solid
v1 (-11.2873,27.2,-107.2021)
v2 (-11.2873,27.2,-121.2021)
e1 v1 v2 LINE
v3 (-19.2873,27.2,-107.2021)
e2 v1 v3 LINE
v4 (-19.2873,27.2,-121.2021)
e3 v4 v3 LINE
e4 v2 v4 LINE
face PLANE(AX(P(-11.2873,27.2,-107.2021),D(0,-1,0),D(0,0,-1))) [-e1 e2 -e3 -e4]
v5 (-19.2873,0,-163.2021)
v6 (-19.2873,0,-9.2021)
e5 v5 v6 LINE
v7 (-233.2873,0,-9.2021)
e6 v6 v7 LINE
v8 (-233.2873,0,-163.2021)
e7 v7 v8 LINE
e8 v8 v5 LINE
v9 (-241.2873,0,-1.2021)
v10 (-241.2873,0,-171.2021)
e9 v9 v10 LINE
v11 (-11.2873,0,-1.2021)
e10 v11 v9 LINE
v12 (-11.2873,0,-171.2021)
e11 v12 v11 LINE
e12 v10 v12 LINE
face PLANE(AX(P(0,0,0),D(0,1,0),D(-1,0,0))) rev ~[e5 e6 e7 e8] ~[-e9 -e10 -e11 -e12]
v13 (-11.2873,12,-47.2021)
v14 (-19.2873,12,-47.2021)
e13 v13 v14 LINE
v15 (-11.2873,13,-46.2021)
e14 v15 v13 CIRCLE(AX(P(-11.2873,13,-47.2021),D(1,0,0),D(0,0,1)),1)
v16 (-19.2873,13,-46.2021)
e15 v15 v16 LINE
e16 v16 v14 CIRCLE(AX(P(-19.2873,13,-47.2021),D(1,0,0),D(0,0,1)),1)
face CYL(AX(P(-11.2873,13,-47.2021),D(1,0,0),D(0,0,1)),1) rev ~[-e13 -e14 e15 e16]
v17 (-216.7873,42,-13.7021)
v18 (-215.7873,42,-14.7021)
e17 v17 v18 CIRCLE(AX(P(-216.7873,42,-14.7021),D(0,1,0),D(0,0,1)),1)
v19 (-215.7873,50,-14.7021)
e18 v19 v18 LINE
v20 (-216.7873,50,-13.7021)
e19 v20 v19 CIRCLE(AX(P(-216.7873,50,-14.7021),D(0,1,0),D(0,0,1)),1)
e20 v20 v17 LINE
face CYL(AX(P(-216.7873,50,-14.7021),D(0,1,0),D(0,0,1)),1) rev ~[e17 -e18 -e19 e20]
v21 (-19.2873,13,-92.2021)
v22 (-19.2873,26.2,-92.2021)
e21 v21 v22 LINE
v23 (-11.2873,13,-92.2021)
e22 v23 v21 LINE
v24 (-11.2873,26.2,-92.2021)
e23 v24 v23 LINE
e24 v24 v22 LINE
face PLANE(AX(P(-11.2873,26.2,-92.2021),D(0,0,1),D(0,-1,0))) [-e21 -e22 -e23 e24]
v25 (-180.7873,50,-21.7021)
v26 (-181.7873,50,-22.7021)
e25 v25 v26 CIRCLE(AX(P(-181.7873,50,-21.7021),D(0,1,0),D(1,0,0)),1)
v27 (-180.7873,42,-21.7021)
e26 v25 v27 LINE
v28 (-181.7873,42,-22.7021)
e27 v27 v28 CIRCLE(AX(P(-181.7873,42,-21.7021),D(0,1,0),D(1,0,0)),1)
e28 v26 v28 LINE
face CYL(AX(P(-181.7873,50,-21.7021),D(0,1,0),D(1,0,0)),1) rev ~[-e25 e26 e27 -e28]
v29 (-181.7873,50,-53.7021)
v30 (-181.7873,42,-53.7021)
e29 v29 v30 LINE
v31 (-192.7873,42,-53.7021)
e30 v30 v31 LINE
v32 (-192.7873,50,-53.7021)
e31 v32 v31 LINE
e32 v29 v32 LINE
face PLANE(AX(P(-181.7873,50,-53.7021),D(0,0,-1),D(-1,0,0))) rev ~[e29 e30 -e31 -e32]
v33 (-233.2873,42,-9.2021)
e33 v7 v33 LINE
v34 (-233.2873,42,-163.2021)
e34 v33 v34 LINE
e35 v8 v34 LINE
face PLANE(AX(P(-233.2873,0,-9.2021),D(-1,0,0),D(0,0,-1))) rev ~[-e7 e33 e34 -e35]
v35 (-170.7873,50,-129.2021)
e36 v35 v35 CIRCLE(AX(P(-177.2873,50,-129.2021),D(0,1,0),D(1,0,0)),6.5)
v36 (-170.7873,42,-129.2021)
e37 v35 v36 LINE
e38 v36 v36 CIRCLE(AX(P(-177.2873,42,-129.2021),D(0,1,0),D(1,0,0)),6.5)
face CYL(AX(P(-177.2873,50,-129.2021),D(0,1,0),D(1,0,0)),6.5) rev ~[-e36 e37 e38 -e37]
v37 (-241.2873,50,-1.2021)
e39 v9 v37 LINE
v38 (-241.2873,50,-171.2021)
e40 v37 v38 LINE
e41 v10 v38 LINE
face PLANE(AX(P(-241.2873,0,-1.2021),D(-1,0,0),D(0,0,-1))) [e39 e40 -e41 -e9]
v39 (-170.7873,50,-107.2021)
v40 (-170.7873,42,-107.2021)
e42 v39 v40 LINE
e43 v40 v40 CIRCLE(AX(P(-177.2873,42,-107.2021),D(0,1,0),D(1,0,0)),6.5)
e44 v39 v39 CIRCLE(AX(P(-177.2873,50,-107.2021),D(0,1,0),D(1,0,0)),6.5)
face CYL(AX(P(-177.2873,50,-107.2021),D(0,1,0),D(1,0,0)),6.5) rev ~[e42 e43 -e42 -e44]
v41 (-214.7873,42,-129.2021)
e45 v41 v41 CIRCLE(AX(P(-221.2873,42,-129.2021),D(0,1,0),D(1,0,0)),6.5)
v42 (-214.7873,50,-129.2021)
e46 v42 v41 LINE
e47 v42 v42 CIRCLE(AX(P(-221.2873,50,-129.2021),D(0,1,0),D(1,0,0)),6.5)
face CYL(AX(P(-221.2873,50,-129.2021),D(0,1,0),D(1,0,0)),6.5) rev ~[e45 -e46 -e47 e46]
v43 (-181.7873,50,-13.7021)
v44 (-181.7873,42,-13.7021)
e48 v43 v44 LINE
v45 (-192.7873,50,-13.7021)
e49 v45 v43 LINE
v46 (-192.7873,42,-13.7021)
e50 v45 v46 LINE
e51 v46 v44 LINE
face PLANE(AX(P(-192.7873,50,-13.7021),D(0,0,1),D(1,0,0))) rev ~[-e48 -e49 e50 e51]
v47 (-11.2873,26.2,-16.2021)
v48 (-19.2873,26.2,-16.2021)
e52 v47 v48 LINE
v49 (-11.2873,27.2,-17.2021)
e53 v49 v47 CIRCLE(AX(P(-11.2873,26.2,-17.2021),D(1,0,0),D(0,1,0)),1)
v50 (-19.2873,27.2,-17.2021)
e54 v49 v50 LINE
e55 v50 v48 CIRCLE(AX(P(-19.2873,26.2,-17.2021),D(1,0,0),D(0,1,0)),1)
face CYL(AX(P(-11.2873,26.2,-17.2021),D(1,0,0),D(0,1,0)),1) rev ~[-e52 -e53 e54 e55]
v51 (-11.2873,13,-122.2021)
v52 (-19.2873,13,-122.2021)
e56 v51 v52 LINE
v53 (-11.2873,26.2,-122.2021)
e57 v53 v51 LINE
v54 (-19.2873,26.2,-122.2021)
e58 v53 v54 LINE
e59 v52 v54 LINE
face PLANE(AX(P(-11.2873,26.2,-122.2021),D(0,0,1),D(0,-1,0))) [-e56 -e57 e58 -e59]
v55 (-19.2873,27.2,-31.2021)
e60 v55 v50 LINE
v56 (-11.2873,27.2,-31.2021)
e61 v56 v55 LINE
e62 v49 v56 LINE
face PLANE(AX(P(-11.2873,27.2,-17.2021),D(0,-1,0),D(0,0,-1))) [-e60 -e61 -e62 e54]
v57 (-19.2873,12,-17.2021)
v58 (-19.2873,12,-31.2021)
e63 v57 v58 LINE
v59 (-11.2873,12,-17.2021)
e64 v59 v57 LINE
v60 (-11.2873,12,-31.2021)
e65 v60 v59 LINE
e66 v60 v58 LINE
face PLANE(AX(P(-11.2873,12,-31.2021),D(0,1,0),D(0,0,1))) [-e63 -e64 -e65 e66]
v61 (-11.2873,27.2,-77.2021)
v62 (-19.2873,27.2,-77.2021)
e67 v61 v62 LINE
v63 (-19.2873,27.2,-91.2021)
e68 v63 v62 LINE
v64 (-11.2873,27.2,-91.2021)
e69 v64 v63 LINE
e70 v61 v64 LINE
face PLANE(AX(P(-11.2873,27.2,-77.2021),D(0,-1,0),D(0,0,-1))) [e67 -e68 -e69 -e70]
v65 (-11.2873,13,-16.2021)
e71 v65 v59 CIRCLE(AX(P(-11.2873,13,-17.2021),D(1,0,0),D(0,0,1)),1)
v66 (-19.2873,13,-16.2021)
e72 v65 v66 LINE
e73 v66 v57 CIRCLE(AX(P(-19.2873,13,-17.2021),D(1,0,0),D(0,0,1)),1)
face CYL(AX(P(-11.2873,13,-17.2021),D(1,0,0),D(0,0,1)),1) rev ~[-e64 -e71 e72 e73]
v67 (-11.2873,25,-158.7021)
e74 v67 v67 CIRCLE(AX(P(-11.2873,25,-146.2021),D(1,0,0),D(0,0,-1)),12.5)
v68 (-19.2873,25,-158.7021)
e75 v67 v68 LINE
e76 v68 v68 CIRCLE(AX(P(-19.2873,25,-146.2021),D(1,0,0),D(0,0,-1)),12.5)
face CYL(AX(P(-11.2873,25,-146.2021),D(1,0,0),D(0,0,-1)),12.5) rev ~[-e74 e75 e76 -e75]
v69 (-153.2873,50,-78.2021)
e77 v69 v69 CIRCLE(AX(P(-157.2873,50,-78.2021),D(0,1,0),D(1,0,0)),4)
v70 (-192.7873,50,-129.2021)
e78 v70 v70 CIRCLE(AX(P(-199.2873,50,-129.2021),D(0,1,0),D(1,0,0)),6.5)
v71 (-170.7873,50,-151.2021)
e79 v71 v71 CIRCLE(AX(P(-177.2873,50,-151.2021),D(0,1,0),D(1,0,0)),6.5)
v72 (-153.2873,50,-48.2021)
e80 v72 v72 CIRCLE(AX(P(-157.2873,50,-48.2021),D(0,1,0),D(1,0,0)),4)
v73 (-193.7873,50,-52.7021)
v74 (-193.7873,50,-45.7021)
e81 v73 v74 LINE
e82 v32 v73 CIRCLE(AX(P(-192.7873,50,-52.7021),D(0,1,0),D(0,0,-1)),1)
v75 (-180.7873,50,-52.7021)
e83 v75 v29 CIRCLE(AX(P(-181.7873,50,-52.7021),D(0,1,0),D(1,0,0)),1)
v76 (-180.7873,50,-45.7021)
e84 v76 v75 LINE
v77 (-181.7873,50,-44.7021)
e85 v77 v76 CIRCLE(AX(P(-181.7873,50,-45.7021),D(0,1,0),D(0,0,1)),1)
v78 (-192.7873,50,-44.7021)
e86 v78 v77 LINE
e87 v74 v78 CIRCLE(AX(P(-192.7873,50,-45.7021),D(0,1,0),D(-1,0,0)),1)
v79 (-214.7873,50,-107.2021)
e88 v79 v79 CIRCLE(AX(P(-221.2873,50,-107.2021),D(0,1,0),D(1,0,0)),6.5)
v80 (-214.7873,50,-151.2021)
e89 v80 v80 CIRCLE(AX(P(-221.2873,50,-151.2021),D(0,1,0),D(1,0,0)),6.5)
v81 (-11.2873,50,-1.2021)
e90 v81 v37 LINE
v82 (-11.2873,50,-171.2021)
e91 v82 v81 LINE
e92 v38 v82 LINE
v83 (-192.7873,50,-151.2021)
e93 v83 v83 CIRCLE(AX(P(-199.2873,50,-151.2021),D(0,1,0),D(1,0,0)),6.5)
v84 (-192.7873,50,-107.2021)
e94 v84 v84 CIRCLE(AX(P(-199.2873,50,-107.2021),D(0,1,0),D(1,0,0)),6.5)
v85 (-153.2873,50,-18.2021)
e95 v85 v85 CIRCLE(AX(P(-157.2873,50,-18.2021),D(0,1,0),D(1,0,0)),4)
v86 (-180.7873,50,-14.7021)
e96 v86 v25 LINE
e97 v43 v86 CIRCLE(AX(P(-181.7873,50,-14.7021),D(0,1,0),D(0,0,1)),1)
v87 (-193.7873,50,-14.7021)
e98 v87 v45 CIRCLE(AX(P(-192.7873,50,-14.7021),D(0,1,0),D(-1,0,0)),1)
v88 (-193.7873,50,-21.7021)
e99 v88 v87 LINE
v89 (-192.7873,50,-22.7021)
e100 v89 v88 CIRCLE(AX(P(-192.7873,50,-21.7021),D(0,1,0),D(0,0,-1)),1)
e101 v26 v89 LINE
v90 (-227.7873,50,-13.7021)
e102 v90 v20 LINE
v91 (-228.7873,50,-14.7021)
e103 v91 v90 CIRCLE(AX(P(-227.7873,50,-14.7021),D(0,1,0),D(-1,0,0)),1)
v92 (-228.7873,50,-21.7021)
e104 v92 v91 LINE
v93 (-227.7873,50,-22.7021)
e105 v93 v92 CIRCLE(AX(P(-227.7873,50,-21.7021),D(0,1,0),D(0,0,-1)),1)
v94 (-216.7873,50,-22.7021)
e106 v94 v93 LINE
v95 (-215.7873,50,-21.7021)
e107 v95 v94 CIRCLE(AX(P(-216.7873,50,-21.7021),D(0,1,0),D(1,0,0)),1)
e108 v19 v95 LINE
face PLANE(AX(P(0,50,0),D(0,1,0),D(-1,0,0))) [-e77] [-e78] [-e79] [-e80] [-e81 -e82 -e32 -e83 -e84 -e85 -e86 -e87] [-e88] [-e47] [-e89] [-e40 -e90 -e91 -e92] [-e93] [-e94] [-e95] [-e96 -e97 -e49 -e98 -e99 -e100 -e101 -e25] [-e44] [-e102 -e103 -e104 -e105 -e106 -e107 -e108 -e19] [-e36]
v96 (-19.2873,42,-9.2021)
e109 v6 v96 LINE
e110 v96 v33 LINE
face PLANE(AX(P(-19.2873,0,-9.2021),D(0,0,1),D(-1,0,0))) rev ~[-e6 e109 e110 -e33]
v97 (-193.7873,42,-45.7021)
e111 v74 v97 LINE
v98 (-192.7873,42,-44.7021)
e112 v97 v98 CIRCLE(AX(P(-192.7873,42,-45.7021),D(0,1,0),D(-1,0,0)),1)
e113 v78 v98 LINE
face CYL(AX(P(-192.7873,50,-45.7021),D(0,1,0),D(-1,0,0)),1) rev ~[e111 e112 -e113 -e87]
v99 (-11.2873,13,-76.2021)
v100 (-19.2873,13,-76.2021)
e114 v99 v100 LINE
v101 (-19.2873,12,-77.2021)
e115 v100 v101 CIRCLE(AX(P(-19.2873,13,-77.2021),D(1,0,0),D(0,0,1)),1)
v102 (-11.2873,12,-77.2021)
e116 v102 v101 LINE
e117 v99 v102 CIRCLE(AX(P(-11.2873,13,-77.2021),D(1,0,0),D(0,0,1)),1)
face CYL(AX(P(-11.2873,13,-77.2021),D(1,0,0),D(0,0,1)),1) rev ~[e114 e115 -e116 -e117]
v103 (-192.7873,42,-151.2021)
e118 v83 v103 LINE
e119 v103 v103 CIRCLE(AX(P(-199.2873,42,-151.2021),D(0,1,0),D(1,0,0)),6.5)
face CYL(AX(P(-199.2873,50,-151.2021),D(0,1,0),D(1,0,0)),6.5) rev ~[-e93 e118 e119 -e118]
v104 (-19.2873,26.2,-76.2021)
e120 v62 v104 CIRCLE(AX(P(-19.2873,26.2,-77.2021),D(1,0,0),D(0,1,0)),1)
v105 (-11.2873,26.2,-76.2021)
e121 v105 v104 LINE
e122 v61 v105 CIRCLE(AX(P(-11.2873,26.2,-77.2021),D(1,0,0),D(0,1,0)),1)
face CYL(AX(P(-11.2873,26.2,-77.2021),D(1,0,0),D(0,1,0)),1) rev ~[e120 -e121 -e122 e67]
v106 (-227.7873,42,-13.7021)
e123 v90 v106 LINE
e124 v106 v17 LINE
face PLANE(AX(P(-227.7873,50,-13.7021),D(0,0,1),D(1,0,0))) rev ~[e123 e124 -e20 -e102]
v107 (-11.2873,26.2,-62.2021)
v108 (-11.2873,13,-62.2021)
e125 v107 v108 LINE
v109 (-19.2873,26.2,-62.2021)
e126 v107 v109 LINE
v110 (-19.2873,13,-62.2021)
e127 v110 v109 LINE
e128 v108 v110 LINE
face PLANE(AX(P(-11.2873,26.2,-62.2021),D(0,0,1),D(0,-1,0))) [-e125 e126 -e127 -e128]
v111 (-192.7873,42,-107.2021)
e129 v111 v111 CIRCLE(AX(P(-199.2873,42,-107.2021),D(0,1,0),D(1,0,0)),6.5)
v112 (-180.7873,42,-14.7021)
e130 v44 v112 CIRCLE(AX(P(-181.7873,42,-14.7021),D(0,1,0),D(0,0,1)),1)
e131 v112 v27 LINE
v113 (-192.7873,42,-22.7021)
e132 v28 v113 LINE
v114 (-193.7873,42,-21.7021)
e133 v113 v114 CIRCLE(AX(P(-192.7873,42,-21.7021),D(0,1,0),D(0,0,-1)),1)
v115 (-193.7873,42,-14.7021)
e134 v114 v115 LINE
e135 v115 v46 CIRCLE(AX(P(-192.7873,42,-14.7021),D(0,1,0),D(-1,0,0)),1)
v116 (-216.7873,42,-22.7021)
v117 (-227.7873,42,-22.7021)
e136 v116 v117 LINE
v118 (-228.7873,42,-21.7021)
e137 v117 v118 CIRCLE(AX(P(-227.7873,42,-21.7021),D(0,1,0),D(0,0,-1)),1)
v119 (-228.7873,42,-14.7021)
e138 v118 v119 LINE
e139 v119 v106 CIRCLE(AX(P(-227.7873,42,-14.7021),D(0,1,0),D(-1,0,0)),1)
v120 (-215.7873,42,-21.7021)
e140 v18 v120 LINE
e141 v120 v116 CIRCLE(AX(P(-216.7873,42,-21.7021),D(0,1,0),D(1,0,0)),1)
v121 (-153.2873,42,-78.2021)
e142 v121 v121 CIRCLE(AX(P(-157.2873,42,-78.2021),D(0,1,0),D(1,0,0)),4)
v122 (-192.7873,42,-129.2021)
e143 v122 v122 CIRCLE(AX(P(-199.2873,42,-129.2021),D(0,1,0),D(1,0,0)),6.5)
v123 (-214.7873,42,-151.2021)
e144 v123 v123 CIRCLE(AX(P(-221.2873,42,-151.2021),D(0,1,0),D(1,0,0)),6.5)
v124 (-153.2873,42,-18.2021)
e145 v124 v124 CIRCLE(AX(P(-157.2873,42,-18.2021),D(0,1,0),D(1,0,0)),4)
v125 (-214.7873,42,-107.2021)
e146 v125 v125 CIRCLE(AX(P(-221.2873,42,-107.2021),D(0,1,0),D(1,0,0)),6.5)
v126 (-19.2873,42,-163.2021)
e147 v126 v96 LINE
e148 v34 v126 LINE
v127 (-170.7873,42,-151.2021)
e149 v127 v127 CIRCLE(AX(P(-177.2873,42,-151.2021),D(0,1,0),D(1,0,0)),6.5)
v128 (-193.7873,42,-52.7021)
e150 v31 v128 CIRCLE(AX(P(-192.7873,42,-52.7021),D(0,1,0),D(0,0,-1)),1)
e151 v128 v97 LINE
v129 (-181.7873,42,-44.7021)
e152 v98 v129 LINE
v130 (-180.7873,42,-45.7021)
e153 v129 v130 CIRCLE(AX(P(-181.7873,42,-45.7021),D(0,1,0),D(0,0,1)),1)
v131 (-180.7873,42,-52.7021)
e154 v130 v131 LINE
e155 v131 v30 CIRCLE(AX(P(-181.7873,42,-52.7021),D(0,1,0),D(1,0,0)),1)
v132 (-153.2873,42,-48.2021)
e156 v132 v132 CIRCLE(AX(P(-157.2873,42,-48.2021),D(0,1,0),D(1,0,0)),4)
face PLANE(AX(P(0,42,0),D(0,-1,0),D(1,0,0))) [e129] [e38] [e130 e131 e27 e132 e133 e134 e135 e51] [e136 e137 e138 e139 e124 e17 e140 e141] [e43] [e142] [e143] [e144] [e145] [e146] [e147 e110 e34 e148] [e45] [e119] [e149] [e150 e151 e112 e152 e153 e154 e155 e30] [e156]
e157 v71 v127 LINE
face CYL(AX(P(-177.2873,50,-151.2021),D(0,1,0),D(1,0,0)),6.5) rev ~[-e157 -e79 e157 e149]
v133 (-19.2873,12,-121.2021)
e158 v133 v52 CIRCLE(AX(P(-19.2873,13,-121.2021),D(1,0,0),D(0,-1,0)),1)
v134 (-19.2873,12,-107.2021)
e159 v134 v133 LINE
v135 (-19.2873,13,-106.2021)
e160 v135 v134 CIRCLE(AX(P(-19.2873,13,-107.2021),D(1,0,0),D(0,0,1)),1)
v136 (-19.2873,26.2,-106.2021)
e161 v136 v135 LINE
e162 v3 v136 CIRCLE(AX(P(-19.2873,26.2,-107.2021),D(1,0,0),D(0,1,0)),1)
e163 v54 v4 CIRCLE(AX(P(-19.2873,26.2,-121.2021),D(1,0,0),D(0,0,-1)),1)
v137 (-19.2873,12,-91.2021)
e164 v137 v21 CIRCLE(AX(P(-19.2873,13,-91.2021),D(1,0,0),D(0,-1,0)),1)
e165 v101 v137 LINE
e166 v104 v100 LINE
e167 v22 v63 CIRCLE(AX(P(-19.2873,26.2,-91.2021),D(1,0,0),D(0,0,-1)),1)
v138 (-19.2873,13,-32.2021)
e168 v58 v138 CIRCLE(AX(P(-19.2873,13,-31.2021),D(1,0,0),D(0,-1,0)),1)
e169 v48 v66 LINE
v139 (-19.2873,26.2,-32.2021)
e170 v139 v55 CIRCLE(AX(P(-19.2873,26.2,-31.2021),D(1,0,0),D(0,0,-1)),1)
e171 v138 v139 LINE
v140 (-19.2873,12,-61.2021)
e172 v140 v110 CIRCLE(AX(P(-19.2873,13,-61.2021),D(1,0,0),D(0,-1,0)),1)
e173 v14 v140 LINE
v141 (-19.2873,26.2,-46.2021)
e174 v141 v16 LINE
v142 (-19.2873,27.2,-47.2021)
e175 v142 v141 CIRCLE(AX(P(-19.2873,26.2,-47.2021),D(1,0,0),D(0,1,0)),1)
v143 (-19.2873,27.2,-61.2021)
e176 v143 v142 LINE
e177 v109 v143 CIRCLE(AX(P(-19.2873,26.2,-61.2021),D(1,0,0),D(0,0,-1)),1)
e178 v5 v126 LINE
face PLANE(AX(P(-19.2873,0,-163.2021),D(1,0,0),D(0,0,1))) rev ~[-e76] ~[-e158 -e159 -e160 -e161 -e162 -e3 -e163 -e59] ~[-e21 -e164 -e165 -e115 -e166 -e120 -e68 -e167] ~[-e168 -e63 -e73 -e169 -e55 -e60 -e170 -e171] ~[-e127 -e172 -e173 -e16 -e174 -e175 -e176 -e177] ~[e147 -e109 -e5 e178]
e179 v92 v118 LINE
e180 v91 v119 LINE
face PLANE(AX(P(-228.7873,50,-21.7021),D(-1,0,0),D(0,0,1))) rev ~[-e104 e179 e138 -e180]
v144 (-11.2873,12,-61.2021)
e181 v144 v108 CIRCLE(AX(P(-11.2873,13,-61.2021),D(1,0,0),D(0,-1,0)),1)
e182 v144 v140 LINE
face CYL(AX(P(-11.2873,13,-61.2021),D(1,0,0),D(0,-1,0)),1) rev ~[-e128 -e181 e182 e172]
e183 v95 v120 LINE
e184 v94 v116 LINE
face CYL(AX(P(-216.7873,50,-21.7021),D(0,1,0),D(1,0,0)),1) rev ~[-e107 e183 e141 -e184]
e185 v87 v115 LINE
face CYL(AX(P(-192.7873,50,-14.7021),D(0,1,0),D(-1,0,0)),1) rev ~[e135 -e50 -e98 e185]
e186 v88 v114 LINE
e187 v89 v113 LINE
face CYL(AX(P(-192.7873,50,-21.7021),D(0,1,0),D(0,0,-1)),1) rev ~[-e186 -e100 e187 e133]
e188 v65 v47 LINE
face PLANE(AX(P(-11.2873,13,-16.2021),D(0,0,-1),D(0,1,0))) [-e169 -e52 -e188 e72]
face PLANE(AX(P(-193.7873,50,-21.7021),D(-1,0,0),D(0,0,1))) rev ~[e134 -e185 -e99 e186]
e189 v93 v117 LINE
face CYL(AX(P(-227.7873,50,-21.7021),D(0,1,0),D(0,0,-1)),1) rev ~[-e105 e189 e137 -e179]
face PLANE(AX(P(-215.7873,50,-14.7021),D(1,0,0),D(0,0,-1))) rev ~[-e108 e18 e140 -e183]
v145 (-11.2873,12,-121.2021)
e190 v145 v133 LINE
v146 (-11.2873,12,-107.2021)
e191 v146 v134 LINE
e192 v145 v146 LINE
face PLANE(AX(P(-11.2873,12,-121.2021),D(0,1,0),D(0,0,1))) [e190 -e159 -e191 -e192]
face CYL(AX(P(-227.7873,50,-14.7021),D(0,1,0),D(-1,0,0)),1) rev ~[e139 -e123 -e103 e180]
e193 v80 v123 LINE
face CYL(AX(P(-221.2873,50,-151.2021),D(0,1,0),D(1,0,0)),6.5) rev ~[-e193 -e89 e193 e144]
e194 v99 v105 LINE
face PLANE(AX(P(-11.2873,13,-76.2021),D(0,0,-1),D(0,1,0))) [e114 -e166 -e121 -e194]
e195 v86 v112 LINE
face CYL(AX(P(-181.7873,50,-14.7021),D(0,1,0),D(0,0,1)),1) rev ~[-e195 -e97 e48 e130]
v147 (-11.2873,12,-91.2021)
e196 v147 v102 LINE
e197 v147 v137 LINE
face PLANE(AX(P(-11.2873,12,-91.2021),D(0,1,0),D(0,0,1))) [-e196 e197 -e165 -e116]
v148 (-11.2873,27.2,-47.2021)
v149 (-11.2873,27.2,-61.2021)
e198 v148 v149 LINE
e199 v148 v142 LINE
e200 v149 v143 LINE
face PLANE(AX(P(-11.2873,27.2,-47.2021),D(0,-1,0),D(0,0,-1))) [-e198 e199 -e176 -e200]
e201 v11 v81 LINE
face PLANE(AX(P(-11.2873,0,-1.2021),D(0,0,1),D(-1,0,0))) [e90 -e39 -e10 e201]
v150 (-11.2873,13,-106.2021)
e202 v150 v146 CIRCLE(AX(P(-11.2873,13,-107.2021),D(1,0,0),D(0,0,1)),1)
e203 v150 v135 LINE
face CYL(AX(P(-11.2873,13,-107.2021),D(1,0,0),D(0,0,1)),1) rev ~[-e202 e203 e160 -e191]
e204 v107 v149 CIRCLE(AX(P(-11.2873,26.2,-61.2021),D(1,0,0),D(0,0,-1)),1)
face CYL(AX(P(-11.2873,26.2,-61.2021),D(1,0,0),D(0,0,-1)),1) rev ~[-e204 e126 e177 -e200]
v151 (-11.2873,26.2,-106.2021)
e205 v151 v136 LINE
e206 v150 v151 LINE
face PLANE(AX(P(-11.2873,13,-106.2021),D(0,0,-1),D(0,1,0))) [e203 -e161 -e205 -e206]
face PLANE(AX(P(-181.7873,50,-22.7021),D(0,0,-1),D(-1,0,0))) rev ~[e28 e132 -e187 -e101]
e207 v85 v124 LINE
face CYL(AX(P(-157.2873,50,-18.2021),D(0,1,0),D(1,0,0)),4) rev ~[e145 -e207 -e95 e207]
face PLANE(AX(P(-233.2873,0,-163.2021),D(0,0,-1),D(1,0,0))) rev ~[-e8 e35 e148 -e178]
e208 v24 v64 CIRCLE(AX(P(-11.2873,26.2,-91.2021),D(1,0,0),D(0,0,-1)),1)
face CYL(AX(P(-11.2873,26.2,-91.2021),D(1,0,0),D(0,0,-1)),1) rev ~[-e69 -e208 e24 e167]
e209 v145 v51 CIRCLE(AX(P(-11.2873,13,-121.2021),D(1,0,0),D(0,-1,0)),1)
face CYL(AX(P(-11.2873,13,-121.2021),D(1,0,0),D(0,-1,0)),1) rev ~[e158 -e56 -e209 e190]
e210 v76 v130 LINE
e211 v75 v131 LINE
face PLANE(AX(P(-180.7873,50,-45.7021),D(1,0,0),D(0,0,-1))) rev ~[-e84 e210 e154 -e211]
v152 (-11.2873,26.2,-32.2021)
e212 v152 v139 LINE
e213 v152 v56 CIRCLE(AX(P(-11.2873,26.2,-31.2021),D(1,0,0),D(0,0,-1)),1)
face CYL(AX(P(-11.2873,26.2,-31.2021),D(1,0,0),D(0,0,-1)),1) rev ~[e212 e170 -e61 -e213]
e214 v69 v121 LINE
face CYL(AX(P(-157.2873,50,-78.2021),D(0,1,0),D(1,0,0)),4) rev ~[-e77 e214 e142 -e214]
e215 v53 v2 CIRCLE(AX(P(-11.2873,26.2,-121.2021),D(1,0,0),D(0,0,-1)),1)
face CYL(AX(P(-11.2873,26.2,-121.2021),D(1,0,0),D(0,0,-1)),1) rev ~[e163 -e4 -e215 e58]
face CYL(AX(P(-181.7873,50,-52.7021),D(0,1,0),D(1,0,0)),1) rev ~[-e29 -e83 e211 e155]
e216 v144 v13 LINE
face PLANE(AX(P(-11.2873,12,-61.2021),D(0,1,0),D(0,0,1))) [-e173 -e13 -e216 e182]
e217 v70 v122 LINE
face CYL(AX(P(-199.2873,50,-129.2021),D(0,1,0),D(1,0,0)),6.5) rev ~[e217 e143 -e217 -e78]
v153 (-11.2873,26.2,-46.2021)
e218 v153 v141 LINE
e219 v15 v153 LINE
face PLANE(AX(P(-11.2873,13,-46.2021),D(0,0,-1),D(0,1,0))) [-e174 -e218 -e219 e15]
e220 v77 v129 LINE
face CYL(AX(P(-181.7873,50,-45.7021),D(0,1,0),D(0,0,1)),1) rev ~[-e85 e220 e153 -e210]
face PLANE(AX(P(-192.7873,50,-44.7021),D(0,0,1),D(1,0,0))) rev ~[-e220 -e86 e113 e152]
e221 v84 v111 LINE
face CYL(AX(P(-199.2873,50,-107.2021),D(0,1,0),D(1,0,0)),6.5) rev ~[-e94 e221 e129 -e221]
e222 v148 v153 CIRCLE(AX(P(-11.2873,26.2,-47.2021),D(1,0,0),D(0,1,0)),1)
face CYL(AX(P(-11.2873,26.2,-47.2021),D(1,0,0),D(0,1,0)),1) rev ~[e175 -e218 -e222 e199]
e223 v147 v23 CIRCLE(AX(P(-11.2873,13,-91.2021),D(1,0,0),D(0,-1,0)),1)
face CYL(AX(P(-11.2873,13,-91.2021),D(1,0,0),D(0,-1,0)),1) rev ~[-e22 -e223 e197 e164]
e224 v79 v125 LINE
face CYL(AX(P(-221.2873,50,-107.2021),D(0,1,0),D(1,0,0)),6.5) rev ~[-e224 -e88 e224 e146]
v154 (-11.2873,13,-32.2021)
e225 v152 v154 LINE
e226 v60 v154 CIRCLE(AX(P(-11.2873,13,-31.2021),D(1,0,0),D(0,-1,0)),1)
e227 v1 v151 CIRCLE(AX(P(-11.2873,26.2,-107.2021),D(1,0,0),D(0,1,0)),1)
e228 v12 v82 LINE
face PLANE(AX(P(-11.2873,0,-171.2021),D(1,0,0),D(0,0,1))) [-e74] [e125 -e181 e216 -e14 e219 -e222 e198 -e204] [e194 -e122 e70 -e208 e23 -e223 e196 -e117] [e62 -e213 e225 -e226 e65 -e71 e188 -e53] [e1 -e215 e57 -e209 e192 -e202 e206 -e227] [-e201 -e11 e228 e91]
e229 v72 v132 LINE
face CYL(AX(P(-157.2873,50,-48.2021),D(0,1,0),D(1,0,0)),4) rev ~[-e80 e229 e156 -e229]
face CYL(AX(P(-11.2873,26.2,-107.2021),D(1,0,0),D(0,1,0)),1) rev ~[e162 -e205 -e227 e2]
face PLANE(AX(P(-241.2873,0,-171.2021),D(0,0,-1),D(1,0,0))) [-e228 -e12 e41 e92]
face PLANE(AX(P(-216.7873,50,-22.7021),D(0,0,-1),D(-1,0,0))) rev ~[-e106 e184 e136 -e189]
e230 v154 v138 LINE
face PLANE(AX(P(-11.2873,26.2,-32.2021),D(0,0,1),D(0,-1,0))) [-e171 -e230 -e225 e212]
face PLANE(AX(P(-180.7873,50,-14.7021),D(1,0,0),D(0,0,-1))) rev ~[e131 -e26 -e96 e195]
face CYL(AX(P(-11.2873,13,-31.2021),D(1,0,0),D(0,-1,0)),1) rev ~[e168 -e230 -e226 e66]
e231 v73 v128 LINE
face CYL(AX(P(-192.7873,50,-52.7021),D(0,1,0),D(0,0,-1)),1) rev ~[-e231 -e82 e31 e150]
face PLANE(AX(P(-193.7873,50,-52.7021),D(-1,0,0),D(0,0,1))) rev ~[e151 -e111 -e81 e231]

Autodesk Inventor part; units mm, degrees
ref_plane "YZ Plane" through (0, 0, 0) normal (1, 0, 0) x (0, 1, 0)
ref_plane "XZ Plane" through (0, 0, 0) normal (0, 1, 0) x (-1, 0, 0)
ref_plane "XY Plane" through (0, 0, 0) normal (0, 0, 1) x (1, 0, 0)
sketch "main box1" plane through (0, 0, 0) normal (0, 1, 0) x (-1, 0, 0)
  line L0 (11.2873, -1.2021) -> (241.2873, -1.2021)
  line L1 (241.2873, -1.2021) -> (241.2873, -171.2021)
  line L2 (241.2873, -171.2021) -> (11.2873, -171.2021)
  line L3 (11.2873, -171.2021) -> (11.2873, -1.2021)
  point P0 (0, 0)
  dimension "d2" = 230
  dimension "d3" = 170
extrude "Main box" add sketch "main box1" along normal blind 50
sketch "Ethernet1" plane through (-11.2873, 0, -1.2021) normal (1, 0, 0) x (0, 0, -1)
  line L0 (16, 27.2) -> (30, 27.2)
  line L1 (31, 26.2) -> (31, 13)
  line L2 (30, 12) -> (16, 12)
  line L3 (15, 13) -> (15, 26.2)
  line L4 (0, 0) -> (170, 0) projected
  line L5 (0, 0) -> (0, 50) projected
  arc A0 (16, 27.2) -> (15, 26.2) centre (16, 26.2) ccw
  arc A1 (15, 13) -> (16, 12) centre (16, 13) ccw
  arc A2 (30, 12) -> (31, 13) centre (30, 13) ccw
  arc A3 (31, 26.2) -> (30, 27.2) centre (30, 26.2) ccw
  line L6 (46, 27.2) -> (60, 27.2)
  line L7 (61, 26.2) -> (61, 13)
  line L8 (60, 12) -> (46, 12)
  line L9 (45, 13) -> (45, 26.2)
  arc A4 (46, 27.2) -> (45, 26.2) centre (46, 26.2) ccw
  arc A5 (45, 13) -> (46, 12) centre (46, 13) ccw
  arc A6 (60, 12) -> (61, 13) centre (60, 13) ccw
  arc A7 (61, 26.2) -> (60, 27.2) centre (60, 26.2) ccw
  arc A8 (76, 27.2) -> (75, 26.2) centre (76, 26.2) ccw
  arc A9 (75, 13) -> (76, 12) centre (76, 13) ccw
  line L10 (76, 27.2) -> (90, 27.2)
  arc A10 (91, 26.2) -> (90, 27.2) centre (90, 26.2) ccw
  line L11 (91, 26.2) -> (91, 13)
  line L12 (90, 12) -> (76, 12)
  arc A11 (90, 12) -> (91, 13) centre (90, 13) ccw
  line L13 (75, 13) -> (75, 26.2)
  arc A12 (106, 27.2) -> (105, 26.2) centre (106, 26.2) ccw
  line L14 (105, 13) -> (105, 26.2)
  arc A13 (105, 13) -> (106, 12) centre (106, 13) ccw
  line L15 (106, 27.2) -> (120, 27.2)
  line L16 (120, 12) -> (106, 12)
  arc A14 (121, 26.2) -> (120, 27.2) centre (120, 26.2) ccw
  line L17 (121, 26.2) -> (121, 13)
  arc A15 (120, 12) -> (121, 13) centre (120, 13) ccw
  point P0 (-1.2021, 0)
  point P1 (15, 27.2)
  point P2 (31, 12)
  point P3 (31, 27.2)
  point P4 (15, 12)
  point P5 (45, 27.2)
  point P6 (61, 12)
  point P7 (61, 27.2)
  point P8 (45, 12)
  point P9 (0, 25)
  point P10 (75, 27.2)
  point P11 (91, 27.2)
  point P12 (91, 12)
  point P13 (75, 12)
  point P14 (105, 27.2)
  point P15 (105, 12)
  point P16 (121, 27.2)
  point P17 (121, 12)
  dimension "d6" = 16
  dimension "d7" = 15.2
  dimension "d98" = 12
  dimension "d99" = 15
  dimension "d100" = 1
  dimension "d103" = 1
  dimension "d104" = 45
  dimension "d107" = 1
  dimension "d110" = 1
  dimension "d111" = 75
  dimension "d112" = 105
extrude "Ethernet" cut sketch "Ethernet1" against normal blind 20
sketch "wheel 4 port connection" plane through (0, 50, 0) normal (0, 1, 0) x (1, 0, 0)
  line L0 (-216.7873, 22.7021) -> (-227.7873, 22.7021)
  line L1 (-228.7873, 21.7021) -> (-228.7873, 14.7021)
  line L2 (-227.7873, 13.7021) -> (-216.7873, 13.7021)
  line L3 (-215.7873, 14.7021) -> (-215.7873, 21.7021)
  line L4 (-241.2873, 171.2021) -> (-241.2873, 1.2021) projected
  line L5 (-241.2873, 1.2021) -> (-11.2873, 1.2021) projected
  arc A0 (-227.7873, 22.7021) -> (-228.7873, 21.7021) centre (-227.7873, 21.7021) ccw
  arc A1 (-215.7873, 21.7021) -> (-216.7873, 22.7021) centre (-216.7873, 21.7021) ccw
  arc A2 (-216.7873, 13.7021) -> (-215.7873, 14.7021) centre (-216.7873, 14.7021) ccw
  arc A3 (-228.7873, 14.7021) -> (-227.7873, 13.7021) centre (-227.7873, 14.7021) ccw
  point P0 (0, 0)
  point P1 (-215.7873, 22.7021)
  point P2 (-228.7873, 13.7021)
  point P3 (-228.7873, 22.7021)
  point P4 (-215.7873, 13.7021)
  dimension "d22" = 13
  dimension "d23" = 9
  dimension "d76" = 12.5
  dimension "d77" = 12.5
  dimension "d113" = 1
extrude "wheel" cut sketch "wheel 4 port connection" against normal blind 20
sketch "Motor left 4 port connection" plane through (0, 50, 0) normal (0, 1, 0) x (1, 0, 0)
  line L0 (-181.7873, 22.7021) -> (-192.7873, 22.7021)
  line L1 (-193.7873, 21.7021) -> (-193.7873, 14.7021)
  line L2 (-192.7873, 13.7021) -> (-181.7873, 13.7021)
  line L3 (-180.7873, 14.7021) -> (-180.7873, 21.7021)
  line L4 (-241.2873, 1.2021) -> (-11.2873, 1.2021) projected
  line L5 (-215.7873, 21.7021) -> (-215.7873, 14.7021) projected
  arc A0 (-180.7873, 21.7021) -> (-181.7873, 22.7021) centre (-181.7873, 21.7021) ccw
  arc A1 (-181.7873, 13.7021) -> (-180.7873, 14.7021) centre (-181.7873, 14.7021) ccw
  arc A2 (-193.7873, 14.7021) -> (-192.7873, 13.7021) centre (-192.7873, 14.7021) ccw
  arc A3 (-192.7873, 22.7021) -> (-193.7873, 21.7021) centre (-192.7873, 21.7021) ccw
  point P0 (0, 0)
  point P1 (-180.7873, 22.7021)
  point P2 (-193.7873, 13.7021)
  point P3 (-193.7873, 22.7021)
  point P4 (-180.7873, 13.7021)
  point P5 (-221.7873, 20.7021)
  point P6 (-221.7873, 13.7021)
  point P7 (-215.7873, 14.7021)
  dimension "d26" = 13
  dimension "d27" = 9
  dimension "d78" = 12.5
  dimension "d79" = 22
  dimension "d114" = 1
extrude "Motor left" cut sketch "Motor left 4 port connection" against normal blind 20
sketch "Motor right 4 port connection" plane through (0, 50, 0) normal (0, 1, 0) x (1, 0, 0)
  line L0 (-192.7873, 44.7021) -> (-181.7873, 44.7021)
  line L1 (-180.7873, 45.7021) -> (-180.7873, 52.7021)
  line L2 (-181.7873, 53.7021) -> (-192.7873, 53.7021)
  line L3 (-193.7873, 52.7021) -> (-193.7873, 45.7021)
  line L4 (-192.7873, 22.7021) -> (-181.7873, 22.7021) projected
  line L5 (-193.7873, 14.7021) -> (-193.7873, 21.7021) projected
  arc A0 (-192.7873, 53.7021) -> (-193.7873, 52.7021) centre (-192.7873, 52.7021) ccw
  arc A1 (-180.7873, 52.7021) -> (-181.7873, 53.7021) centre (-181.7873, 52.7021) ccw
  arc A2 (-181.7873, 44.7021) -> (-180.7873, 45.7021) centre (-181.7873, 45.7021) ccw
  arc A3 (-193.7873, 45.7021) -> (-192.7873, 44.7021) centre (-192.7873, 45.7021) ccw
  point P0 (0, 0)
  point P1 (-193.7873, 44.7021)
  point P2 (-180.7873, 53.7021)
  point P3 (-180.7873, 44.7021)
  point P4 (-193.7873, 53.7021)
  point P5 (-198.7873, 20.7021)
  point P6 (-191.7873, 20.7021)
  point P7 (-198.7873, 13.7021)
  point P8 (-181.7873, 22.7021)
  dimension "d30" = 13
  dimension "d31" = 9
  dimension "d80" = 22
  dimension "d115" = 1
extrude "Motor right" cut sketch "Motor right 4 port connection" against normal blind 20
sketch "Sketch10" plane through (0, 50, 0) normal (0, 1, 0) x (1, 0, 0)
  circle A0 centre (-157.2873, 18.2021) radius 4
  line L0 (-241.2873, 1.2021) -> (-11.2873, 1.2021) projected
  circle A1 centre (-157.2873, 48.2021) radius 4
  circle A2 centre (-157.2873, 78.2021) radius 4
  line L1 (-157.2873, 18.2021) -> (-157.2873, 78.2021) construction
  line L2 (-181.7873, 13.7021) -> (-192.7873, 13.7021) construction
  line L3 (-180.7873, 21.7021) -> (-180.7873, 14.7021) construction
  line L4 (-180.7873, 18.2021) -> (-157.2873, 18.2021) construction
  arc A3 (-193.7873, 14.7021) -> (-192.7873, 13.7021) centre (-192.7873, 14.7021) ccw construction
  arc A4 (-192.7873, 22.7021) -> (-193.7873, 21.7021) centre (-192.7873, 21.7021) ccw construction
  line L5 (-193.7873, 14.7021) -> (-193.7873, 21.7021) construction
  arc A5 (-193.7873, 14.7021) -> (-192.7873, 13.7021) centre (-192.7873, 14.7021) ccw construction
  line L6 (-181.7873, 13.7021) -> (-192.7873, 13.7021) construction
  arc A6 (-181.7873, 13.7021) -> (-180.7873, 14.7021) centre (-181.7873, 14.7021) ccw construction
  line L7 (-180.7873, 21.7021) -> (-180.7873, 14.7021) construction
  arc A7 (-180.7873, 21.7021) -> (-181.7873, 22.7021) centre (-181.7873, 21.7021) ccw construction
  line L8 (-192.7873, 22.7021) -> (-181.7873, 22.7021) construction
  point P0 (0, 0)
  point P1 (-187.2873, 13.7021)
  point P2 (-187.2873, 13.7021)
  dimension "d34" = 8
  dimension "d86" = 30
  dimension "d87" = 30
  dimension "d88" = 30
extrude "PD" cut sketch "Sketch10" against normal blind 20
sketch "Power socket" plane through (0, 50, 0) normal (0, 1, 0) x (1, 0, 0)
  circle A0 centre (-221.2873, 107.2021) radius 6.5
  line L0 (-241.2873, 171.2021) -> (-241.2873, 1.2021) projected
  circle A1 centre (-221.2873, 129.2021) radius 6.5
  circle A2 centre (-221.2873, 151.2021) radius 6.5
  circle A3 centre (-199.2873, 151.2021) radius 6.5
  circle A4 centre (-199.2873, 129.2021) radius 6.5
  circle A5 centre (-199.2873, 107.2021) radius 6.5
  circle A6 centre (-177.2873, 151.2021) radius 6.5
  circle A7 centre (-177.2873, 129.2021) radius 6.5
  circle A8 centre (-177.2873, 107.2021) radius 6.5
  line L1 (-11.2873, 171.2021) -> (-241.2873, 171.2021) projected
  line L2 (-221.2873, 107.2021) -> (-221.2873, 151.2021) construction
  line L3 (-221.2873, 151.2021) -> (-177.2873, 151.2021) construction
  line L4 (-177.2873, 151.2021) -> (-177.2873, 107.2021) construction
  line L5 (-177.2873, 107.2021) -> (-221.2873, 107.2021) construction
  line L6 (-221.2873, 129.2021) -> (-177.2873, 129.2021) construction
  line L7 (-199.2873, 151.2021) -> (-199.2873, 107.2021) construction
  point P0 (0, 0)
  dimension "d43" = 13
  dimension "d90" = 20
  dimension "d94" = 20
  dimension "d95" = 22
  dimension "d96" = 22
extrude "Power" cut sketch "Power socket" against normal blind 20
sketch "Sketch22" plane through (0, 0, 0) normal (0, -1, 0) x (1, 0, 0)
  line L0 (-19.2873, -9.2021) -> (-233.2873, -9.2021)
  line L1 (-233.2873, -9.2021) -> (-233.2873, -163.2021)
  line L2 (-233.2873, -163.2021) -> (-19.2873, -163.2021)
  line L3 (-19.2873, -163.2021) -> (-19.2873, -9.2021)
  line L4 (-241.2873, -1.2021) -> (-11.2873, -1.2021) projected
  line L5 (-11.2873, -171.2021) -> (-241.2873, -171.2021) projected
  line L6 (-11.2873, -1.2021) -> (-11.2873, -171.2021) projected
  line L7 (-241.2873, -171.2021) -> (-241.2873, -1.2021) projected
  point P0 (0, 0)
  dimension "d70" = 8
  dimension "d71" = 8
  dimension "d72" = 8
  dimension "d73" = 8
extrude "Extrusion21" cut sketch "Sketch22" against normal blind 42 contours L3 L2 L1 L0
sketch "Sketch23" plane through (-11.2873, 0, -1.2021) normal (1, 0, 0) x (0, 0, -1)
  circle A0 centre (145, 25) radius 12.5
  line L0 (0, 0) -> (170, 0) projected
  line L1 (170, 0) -> (170, 50) projected
  point P0 (-1.2021, 0)
  dimension "d117" = 25
  dimension "d118" = 25
  dimension "d119" = 25
extrude "Extrusion22" cut sketch "Sketch23" against normal blind 20
properties part number "BreakoutBox"
